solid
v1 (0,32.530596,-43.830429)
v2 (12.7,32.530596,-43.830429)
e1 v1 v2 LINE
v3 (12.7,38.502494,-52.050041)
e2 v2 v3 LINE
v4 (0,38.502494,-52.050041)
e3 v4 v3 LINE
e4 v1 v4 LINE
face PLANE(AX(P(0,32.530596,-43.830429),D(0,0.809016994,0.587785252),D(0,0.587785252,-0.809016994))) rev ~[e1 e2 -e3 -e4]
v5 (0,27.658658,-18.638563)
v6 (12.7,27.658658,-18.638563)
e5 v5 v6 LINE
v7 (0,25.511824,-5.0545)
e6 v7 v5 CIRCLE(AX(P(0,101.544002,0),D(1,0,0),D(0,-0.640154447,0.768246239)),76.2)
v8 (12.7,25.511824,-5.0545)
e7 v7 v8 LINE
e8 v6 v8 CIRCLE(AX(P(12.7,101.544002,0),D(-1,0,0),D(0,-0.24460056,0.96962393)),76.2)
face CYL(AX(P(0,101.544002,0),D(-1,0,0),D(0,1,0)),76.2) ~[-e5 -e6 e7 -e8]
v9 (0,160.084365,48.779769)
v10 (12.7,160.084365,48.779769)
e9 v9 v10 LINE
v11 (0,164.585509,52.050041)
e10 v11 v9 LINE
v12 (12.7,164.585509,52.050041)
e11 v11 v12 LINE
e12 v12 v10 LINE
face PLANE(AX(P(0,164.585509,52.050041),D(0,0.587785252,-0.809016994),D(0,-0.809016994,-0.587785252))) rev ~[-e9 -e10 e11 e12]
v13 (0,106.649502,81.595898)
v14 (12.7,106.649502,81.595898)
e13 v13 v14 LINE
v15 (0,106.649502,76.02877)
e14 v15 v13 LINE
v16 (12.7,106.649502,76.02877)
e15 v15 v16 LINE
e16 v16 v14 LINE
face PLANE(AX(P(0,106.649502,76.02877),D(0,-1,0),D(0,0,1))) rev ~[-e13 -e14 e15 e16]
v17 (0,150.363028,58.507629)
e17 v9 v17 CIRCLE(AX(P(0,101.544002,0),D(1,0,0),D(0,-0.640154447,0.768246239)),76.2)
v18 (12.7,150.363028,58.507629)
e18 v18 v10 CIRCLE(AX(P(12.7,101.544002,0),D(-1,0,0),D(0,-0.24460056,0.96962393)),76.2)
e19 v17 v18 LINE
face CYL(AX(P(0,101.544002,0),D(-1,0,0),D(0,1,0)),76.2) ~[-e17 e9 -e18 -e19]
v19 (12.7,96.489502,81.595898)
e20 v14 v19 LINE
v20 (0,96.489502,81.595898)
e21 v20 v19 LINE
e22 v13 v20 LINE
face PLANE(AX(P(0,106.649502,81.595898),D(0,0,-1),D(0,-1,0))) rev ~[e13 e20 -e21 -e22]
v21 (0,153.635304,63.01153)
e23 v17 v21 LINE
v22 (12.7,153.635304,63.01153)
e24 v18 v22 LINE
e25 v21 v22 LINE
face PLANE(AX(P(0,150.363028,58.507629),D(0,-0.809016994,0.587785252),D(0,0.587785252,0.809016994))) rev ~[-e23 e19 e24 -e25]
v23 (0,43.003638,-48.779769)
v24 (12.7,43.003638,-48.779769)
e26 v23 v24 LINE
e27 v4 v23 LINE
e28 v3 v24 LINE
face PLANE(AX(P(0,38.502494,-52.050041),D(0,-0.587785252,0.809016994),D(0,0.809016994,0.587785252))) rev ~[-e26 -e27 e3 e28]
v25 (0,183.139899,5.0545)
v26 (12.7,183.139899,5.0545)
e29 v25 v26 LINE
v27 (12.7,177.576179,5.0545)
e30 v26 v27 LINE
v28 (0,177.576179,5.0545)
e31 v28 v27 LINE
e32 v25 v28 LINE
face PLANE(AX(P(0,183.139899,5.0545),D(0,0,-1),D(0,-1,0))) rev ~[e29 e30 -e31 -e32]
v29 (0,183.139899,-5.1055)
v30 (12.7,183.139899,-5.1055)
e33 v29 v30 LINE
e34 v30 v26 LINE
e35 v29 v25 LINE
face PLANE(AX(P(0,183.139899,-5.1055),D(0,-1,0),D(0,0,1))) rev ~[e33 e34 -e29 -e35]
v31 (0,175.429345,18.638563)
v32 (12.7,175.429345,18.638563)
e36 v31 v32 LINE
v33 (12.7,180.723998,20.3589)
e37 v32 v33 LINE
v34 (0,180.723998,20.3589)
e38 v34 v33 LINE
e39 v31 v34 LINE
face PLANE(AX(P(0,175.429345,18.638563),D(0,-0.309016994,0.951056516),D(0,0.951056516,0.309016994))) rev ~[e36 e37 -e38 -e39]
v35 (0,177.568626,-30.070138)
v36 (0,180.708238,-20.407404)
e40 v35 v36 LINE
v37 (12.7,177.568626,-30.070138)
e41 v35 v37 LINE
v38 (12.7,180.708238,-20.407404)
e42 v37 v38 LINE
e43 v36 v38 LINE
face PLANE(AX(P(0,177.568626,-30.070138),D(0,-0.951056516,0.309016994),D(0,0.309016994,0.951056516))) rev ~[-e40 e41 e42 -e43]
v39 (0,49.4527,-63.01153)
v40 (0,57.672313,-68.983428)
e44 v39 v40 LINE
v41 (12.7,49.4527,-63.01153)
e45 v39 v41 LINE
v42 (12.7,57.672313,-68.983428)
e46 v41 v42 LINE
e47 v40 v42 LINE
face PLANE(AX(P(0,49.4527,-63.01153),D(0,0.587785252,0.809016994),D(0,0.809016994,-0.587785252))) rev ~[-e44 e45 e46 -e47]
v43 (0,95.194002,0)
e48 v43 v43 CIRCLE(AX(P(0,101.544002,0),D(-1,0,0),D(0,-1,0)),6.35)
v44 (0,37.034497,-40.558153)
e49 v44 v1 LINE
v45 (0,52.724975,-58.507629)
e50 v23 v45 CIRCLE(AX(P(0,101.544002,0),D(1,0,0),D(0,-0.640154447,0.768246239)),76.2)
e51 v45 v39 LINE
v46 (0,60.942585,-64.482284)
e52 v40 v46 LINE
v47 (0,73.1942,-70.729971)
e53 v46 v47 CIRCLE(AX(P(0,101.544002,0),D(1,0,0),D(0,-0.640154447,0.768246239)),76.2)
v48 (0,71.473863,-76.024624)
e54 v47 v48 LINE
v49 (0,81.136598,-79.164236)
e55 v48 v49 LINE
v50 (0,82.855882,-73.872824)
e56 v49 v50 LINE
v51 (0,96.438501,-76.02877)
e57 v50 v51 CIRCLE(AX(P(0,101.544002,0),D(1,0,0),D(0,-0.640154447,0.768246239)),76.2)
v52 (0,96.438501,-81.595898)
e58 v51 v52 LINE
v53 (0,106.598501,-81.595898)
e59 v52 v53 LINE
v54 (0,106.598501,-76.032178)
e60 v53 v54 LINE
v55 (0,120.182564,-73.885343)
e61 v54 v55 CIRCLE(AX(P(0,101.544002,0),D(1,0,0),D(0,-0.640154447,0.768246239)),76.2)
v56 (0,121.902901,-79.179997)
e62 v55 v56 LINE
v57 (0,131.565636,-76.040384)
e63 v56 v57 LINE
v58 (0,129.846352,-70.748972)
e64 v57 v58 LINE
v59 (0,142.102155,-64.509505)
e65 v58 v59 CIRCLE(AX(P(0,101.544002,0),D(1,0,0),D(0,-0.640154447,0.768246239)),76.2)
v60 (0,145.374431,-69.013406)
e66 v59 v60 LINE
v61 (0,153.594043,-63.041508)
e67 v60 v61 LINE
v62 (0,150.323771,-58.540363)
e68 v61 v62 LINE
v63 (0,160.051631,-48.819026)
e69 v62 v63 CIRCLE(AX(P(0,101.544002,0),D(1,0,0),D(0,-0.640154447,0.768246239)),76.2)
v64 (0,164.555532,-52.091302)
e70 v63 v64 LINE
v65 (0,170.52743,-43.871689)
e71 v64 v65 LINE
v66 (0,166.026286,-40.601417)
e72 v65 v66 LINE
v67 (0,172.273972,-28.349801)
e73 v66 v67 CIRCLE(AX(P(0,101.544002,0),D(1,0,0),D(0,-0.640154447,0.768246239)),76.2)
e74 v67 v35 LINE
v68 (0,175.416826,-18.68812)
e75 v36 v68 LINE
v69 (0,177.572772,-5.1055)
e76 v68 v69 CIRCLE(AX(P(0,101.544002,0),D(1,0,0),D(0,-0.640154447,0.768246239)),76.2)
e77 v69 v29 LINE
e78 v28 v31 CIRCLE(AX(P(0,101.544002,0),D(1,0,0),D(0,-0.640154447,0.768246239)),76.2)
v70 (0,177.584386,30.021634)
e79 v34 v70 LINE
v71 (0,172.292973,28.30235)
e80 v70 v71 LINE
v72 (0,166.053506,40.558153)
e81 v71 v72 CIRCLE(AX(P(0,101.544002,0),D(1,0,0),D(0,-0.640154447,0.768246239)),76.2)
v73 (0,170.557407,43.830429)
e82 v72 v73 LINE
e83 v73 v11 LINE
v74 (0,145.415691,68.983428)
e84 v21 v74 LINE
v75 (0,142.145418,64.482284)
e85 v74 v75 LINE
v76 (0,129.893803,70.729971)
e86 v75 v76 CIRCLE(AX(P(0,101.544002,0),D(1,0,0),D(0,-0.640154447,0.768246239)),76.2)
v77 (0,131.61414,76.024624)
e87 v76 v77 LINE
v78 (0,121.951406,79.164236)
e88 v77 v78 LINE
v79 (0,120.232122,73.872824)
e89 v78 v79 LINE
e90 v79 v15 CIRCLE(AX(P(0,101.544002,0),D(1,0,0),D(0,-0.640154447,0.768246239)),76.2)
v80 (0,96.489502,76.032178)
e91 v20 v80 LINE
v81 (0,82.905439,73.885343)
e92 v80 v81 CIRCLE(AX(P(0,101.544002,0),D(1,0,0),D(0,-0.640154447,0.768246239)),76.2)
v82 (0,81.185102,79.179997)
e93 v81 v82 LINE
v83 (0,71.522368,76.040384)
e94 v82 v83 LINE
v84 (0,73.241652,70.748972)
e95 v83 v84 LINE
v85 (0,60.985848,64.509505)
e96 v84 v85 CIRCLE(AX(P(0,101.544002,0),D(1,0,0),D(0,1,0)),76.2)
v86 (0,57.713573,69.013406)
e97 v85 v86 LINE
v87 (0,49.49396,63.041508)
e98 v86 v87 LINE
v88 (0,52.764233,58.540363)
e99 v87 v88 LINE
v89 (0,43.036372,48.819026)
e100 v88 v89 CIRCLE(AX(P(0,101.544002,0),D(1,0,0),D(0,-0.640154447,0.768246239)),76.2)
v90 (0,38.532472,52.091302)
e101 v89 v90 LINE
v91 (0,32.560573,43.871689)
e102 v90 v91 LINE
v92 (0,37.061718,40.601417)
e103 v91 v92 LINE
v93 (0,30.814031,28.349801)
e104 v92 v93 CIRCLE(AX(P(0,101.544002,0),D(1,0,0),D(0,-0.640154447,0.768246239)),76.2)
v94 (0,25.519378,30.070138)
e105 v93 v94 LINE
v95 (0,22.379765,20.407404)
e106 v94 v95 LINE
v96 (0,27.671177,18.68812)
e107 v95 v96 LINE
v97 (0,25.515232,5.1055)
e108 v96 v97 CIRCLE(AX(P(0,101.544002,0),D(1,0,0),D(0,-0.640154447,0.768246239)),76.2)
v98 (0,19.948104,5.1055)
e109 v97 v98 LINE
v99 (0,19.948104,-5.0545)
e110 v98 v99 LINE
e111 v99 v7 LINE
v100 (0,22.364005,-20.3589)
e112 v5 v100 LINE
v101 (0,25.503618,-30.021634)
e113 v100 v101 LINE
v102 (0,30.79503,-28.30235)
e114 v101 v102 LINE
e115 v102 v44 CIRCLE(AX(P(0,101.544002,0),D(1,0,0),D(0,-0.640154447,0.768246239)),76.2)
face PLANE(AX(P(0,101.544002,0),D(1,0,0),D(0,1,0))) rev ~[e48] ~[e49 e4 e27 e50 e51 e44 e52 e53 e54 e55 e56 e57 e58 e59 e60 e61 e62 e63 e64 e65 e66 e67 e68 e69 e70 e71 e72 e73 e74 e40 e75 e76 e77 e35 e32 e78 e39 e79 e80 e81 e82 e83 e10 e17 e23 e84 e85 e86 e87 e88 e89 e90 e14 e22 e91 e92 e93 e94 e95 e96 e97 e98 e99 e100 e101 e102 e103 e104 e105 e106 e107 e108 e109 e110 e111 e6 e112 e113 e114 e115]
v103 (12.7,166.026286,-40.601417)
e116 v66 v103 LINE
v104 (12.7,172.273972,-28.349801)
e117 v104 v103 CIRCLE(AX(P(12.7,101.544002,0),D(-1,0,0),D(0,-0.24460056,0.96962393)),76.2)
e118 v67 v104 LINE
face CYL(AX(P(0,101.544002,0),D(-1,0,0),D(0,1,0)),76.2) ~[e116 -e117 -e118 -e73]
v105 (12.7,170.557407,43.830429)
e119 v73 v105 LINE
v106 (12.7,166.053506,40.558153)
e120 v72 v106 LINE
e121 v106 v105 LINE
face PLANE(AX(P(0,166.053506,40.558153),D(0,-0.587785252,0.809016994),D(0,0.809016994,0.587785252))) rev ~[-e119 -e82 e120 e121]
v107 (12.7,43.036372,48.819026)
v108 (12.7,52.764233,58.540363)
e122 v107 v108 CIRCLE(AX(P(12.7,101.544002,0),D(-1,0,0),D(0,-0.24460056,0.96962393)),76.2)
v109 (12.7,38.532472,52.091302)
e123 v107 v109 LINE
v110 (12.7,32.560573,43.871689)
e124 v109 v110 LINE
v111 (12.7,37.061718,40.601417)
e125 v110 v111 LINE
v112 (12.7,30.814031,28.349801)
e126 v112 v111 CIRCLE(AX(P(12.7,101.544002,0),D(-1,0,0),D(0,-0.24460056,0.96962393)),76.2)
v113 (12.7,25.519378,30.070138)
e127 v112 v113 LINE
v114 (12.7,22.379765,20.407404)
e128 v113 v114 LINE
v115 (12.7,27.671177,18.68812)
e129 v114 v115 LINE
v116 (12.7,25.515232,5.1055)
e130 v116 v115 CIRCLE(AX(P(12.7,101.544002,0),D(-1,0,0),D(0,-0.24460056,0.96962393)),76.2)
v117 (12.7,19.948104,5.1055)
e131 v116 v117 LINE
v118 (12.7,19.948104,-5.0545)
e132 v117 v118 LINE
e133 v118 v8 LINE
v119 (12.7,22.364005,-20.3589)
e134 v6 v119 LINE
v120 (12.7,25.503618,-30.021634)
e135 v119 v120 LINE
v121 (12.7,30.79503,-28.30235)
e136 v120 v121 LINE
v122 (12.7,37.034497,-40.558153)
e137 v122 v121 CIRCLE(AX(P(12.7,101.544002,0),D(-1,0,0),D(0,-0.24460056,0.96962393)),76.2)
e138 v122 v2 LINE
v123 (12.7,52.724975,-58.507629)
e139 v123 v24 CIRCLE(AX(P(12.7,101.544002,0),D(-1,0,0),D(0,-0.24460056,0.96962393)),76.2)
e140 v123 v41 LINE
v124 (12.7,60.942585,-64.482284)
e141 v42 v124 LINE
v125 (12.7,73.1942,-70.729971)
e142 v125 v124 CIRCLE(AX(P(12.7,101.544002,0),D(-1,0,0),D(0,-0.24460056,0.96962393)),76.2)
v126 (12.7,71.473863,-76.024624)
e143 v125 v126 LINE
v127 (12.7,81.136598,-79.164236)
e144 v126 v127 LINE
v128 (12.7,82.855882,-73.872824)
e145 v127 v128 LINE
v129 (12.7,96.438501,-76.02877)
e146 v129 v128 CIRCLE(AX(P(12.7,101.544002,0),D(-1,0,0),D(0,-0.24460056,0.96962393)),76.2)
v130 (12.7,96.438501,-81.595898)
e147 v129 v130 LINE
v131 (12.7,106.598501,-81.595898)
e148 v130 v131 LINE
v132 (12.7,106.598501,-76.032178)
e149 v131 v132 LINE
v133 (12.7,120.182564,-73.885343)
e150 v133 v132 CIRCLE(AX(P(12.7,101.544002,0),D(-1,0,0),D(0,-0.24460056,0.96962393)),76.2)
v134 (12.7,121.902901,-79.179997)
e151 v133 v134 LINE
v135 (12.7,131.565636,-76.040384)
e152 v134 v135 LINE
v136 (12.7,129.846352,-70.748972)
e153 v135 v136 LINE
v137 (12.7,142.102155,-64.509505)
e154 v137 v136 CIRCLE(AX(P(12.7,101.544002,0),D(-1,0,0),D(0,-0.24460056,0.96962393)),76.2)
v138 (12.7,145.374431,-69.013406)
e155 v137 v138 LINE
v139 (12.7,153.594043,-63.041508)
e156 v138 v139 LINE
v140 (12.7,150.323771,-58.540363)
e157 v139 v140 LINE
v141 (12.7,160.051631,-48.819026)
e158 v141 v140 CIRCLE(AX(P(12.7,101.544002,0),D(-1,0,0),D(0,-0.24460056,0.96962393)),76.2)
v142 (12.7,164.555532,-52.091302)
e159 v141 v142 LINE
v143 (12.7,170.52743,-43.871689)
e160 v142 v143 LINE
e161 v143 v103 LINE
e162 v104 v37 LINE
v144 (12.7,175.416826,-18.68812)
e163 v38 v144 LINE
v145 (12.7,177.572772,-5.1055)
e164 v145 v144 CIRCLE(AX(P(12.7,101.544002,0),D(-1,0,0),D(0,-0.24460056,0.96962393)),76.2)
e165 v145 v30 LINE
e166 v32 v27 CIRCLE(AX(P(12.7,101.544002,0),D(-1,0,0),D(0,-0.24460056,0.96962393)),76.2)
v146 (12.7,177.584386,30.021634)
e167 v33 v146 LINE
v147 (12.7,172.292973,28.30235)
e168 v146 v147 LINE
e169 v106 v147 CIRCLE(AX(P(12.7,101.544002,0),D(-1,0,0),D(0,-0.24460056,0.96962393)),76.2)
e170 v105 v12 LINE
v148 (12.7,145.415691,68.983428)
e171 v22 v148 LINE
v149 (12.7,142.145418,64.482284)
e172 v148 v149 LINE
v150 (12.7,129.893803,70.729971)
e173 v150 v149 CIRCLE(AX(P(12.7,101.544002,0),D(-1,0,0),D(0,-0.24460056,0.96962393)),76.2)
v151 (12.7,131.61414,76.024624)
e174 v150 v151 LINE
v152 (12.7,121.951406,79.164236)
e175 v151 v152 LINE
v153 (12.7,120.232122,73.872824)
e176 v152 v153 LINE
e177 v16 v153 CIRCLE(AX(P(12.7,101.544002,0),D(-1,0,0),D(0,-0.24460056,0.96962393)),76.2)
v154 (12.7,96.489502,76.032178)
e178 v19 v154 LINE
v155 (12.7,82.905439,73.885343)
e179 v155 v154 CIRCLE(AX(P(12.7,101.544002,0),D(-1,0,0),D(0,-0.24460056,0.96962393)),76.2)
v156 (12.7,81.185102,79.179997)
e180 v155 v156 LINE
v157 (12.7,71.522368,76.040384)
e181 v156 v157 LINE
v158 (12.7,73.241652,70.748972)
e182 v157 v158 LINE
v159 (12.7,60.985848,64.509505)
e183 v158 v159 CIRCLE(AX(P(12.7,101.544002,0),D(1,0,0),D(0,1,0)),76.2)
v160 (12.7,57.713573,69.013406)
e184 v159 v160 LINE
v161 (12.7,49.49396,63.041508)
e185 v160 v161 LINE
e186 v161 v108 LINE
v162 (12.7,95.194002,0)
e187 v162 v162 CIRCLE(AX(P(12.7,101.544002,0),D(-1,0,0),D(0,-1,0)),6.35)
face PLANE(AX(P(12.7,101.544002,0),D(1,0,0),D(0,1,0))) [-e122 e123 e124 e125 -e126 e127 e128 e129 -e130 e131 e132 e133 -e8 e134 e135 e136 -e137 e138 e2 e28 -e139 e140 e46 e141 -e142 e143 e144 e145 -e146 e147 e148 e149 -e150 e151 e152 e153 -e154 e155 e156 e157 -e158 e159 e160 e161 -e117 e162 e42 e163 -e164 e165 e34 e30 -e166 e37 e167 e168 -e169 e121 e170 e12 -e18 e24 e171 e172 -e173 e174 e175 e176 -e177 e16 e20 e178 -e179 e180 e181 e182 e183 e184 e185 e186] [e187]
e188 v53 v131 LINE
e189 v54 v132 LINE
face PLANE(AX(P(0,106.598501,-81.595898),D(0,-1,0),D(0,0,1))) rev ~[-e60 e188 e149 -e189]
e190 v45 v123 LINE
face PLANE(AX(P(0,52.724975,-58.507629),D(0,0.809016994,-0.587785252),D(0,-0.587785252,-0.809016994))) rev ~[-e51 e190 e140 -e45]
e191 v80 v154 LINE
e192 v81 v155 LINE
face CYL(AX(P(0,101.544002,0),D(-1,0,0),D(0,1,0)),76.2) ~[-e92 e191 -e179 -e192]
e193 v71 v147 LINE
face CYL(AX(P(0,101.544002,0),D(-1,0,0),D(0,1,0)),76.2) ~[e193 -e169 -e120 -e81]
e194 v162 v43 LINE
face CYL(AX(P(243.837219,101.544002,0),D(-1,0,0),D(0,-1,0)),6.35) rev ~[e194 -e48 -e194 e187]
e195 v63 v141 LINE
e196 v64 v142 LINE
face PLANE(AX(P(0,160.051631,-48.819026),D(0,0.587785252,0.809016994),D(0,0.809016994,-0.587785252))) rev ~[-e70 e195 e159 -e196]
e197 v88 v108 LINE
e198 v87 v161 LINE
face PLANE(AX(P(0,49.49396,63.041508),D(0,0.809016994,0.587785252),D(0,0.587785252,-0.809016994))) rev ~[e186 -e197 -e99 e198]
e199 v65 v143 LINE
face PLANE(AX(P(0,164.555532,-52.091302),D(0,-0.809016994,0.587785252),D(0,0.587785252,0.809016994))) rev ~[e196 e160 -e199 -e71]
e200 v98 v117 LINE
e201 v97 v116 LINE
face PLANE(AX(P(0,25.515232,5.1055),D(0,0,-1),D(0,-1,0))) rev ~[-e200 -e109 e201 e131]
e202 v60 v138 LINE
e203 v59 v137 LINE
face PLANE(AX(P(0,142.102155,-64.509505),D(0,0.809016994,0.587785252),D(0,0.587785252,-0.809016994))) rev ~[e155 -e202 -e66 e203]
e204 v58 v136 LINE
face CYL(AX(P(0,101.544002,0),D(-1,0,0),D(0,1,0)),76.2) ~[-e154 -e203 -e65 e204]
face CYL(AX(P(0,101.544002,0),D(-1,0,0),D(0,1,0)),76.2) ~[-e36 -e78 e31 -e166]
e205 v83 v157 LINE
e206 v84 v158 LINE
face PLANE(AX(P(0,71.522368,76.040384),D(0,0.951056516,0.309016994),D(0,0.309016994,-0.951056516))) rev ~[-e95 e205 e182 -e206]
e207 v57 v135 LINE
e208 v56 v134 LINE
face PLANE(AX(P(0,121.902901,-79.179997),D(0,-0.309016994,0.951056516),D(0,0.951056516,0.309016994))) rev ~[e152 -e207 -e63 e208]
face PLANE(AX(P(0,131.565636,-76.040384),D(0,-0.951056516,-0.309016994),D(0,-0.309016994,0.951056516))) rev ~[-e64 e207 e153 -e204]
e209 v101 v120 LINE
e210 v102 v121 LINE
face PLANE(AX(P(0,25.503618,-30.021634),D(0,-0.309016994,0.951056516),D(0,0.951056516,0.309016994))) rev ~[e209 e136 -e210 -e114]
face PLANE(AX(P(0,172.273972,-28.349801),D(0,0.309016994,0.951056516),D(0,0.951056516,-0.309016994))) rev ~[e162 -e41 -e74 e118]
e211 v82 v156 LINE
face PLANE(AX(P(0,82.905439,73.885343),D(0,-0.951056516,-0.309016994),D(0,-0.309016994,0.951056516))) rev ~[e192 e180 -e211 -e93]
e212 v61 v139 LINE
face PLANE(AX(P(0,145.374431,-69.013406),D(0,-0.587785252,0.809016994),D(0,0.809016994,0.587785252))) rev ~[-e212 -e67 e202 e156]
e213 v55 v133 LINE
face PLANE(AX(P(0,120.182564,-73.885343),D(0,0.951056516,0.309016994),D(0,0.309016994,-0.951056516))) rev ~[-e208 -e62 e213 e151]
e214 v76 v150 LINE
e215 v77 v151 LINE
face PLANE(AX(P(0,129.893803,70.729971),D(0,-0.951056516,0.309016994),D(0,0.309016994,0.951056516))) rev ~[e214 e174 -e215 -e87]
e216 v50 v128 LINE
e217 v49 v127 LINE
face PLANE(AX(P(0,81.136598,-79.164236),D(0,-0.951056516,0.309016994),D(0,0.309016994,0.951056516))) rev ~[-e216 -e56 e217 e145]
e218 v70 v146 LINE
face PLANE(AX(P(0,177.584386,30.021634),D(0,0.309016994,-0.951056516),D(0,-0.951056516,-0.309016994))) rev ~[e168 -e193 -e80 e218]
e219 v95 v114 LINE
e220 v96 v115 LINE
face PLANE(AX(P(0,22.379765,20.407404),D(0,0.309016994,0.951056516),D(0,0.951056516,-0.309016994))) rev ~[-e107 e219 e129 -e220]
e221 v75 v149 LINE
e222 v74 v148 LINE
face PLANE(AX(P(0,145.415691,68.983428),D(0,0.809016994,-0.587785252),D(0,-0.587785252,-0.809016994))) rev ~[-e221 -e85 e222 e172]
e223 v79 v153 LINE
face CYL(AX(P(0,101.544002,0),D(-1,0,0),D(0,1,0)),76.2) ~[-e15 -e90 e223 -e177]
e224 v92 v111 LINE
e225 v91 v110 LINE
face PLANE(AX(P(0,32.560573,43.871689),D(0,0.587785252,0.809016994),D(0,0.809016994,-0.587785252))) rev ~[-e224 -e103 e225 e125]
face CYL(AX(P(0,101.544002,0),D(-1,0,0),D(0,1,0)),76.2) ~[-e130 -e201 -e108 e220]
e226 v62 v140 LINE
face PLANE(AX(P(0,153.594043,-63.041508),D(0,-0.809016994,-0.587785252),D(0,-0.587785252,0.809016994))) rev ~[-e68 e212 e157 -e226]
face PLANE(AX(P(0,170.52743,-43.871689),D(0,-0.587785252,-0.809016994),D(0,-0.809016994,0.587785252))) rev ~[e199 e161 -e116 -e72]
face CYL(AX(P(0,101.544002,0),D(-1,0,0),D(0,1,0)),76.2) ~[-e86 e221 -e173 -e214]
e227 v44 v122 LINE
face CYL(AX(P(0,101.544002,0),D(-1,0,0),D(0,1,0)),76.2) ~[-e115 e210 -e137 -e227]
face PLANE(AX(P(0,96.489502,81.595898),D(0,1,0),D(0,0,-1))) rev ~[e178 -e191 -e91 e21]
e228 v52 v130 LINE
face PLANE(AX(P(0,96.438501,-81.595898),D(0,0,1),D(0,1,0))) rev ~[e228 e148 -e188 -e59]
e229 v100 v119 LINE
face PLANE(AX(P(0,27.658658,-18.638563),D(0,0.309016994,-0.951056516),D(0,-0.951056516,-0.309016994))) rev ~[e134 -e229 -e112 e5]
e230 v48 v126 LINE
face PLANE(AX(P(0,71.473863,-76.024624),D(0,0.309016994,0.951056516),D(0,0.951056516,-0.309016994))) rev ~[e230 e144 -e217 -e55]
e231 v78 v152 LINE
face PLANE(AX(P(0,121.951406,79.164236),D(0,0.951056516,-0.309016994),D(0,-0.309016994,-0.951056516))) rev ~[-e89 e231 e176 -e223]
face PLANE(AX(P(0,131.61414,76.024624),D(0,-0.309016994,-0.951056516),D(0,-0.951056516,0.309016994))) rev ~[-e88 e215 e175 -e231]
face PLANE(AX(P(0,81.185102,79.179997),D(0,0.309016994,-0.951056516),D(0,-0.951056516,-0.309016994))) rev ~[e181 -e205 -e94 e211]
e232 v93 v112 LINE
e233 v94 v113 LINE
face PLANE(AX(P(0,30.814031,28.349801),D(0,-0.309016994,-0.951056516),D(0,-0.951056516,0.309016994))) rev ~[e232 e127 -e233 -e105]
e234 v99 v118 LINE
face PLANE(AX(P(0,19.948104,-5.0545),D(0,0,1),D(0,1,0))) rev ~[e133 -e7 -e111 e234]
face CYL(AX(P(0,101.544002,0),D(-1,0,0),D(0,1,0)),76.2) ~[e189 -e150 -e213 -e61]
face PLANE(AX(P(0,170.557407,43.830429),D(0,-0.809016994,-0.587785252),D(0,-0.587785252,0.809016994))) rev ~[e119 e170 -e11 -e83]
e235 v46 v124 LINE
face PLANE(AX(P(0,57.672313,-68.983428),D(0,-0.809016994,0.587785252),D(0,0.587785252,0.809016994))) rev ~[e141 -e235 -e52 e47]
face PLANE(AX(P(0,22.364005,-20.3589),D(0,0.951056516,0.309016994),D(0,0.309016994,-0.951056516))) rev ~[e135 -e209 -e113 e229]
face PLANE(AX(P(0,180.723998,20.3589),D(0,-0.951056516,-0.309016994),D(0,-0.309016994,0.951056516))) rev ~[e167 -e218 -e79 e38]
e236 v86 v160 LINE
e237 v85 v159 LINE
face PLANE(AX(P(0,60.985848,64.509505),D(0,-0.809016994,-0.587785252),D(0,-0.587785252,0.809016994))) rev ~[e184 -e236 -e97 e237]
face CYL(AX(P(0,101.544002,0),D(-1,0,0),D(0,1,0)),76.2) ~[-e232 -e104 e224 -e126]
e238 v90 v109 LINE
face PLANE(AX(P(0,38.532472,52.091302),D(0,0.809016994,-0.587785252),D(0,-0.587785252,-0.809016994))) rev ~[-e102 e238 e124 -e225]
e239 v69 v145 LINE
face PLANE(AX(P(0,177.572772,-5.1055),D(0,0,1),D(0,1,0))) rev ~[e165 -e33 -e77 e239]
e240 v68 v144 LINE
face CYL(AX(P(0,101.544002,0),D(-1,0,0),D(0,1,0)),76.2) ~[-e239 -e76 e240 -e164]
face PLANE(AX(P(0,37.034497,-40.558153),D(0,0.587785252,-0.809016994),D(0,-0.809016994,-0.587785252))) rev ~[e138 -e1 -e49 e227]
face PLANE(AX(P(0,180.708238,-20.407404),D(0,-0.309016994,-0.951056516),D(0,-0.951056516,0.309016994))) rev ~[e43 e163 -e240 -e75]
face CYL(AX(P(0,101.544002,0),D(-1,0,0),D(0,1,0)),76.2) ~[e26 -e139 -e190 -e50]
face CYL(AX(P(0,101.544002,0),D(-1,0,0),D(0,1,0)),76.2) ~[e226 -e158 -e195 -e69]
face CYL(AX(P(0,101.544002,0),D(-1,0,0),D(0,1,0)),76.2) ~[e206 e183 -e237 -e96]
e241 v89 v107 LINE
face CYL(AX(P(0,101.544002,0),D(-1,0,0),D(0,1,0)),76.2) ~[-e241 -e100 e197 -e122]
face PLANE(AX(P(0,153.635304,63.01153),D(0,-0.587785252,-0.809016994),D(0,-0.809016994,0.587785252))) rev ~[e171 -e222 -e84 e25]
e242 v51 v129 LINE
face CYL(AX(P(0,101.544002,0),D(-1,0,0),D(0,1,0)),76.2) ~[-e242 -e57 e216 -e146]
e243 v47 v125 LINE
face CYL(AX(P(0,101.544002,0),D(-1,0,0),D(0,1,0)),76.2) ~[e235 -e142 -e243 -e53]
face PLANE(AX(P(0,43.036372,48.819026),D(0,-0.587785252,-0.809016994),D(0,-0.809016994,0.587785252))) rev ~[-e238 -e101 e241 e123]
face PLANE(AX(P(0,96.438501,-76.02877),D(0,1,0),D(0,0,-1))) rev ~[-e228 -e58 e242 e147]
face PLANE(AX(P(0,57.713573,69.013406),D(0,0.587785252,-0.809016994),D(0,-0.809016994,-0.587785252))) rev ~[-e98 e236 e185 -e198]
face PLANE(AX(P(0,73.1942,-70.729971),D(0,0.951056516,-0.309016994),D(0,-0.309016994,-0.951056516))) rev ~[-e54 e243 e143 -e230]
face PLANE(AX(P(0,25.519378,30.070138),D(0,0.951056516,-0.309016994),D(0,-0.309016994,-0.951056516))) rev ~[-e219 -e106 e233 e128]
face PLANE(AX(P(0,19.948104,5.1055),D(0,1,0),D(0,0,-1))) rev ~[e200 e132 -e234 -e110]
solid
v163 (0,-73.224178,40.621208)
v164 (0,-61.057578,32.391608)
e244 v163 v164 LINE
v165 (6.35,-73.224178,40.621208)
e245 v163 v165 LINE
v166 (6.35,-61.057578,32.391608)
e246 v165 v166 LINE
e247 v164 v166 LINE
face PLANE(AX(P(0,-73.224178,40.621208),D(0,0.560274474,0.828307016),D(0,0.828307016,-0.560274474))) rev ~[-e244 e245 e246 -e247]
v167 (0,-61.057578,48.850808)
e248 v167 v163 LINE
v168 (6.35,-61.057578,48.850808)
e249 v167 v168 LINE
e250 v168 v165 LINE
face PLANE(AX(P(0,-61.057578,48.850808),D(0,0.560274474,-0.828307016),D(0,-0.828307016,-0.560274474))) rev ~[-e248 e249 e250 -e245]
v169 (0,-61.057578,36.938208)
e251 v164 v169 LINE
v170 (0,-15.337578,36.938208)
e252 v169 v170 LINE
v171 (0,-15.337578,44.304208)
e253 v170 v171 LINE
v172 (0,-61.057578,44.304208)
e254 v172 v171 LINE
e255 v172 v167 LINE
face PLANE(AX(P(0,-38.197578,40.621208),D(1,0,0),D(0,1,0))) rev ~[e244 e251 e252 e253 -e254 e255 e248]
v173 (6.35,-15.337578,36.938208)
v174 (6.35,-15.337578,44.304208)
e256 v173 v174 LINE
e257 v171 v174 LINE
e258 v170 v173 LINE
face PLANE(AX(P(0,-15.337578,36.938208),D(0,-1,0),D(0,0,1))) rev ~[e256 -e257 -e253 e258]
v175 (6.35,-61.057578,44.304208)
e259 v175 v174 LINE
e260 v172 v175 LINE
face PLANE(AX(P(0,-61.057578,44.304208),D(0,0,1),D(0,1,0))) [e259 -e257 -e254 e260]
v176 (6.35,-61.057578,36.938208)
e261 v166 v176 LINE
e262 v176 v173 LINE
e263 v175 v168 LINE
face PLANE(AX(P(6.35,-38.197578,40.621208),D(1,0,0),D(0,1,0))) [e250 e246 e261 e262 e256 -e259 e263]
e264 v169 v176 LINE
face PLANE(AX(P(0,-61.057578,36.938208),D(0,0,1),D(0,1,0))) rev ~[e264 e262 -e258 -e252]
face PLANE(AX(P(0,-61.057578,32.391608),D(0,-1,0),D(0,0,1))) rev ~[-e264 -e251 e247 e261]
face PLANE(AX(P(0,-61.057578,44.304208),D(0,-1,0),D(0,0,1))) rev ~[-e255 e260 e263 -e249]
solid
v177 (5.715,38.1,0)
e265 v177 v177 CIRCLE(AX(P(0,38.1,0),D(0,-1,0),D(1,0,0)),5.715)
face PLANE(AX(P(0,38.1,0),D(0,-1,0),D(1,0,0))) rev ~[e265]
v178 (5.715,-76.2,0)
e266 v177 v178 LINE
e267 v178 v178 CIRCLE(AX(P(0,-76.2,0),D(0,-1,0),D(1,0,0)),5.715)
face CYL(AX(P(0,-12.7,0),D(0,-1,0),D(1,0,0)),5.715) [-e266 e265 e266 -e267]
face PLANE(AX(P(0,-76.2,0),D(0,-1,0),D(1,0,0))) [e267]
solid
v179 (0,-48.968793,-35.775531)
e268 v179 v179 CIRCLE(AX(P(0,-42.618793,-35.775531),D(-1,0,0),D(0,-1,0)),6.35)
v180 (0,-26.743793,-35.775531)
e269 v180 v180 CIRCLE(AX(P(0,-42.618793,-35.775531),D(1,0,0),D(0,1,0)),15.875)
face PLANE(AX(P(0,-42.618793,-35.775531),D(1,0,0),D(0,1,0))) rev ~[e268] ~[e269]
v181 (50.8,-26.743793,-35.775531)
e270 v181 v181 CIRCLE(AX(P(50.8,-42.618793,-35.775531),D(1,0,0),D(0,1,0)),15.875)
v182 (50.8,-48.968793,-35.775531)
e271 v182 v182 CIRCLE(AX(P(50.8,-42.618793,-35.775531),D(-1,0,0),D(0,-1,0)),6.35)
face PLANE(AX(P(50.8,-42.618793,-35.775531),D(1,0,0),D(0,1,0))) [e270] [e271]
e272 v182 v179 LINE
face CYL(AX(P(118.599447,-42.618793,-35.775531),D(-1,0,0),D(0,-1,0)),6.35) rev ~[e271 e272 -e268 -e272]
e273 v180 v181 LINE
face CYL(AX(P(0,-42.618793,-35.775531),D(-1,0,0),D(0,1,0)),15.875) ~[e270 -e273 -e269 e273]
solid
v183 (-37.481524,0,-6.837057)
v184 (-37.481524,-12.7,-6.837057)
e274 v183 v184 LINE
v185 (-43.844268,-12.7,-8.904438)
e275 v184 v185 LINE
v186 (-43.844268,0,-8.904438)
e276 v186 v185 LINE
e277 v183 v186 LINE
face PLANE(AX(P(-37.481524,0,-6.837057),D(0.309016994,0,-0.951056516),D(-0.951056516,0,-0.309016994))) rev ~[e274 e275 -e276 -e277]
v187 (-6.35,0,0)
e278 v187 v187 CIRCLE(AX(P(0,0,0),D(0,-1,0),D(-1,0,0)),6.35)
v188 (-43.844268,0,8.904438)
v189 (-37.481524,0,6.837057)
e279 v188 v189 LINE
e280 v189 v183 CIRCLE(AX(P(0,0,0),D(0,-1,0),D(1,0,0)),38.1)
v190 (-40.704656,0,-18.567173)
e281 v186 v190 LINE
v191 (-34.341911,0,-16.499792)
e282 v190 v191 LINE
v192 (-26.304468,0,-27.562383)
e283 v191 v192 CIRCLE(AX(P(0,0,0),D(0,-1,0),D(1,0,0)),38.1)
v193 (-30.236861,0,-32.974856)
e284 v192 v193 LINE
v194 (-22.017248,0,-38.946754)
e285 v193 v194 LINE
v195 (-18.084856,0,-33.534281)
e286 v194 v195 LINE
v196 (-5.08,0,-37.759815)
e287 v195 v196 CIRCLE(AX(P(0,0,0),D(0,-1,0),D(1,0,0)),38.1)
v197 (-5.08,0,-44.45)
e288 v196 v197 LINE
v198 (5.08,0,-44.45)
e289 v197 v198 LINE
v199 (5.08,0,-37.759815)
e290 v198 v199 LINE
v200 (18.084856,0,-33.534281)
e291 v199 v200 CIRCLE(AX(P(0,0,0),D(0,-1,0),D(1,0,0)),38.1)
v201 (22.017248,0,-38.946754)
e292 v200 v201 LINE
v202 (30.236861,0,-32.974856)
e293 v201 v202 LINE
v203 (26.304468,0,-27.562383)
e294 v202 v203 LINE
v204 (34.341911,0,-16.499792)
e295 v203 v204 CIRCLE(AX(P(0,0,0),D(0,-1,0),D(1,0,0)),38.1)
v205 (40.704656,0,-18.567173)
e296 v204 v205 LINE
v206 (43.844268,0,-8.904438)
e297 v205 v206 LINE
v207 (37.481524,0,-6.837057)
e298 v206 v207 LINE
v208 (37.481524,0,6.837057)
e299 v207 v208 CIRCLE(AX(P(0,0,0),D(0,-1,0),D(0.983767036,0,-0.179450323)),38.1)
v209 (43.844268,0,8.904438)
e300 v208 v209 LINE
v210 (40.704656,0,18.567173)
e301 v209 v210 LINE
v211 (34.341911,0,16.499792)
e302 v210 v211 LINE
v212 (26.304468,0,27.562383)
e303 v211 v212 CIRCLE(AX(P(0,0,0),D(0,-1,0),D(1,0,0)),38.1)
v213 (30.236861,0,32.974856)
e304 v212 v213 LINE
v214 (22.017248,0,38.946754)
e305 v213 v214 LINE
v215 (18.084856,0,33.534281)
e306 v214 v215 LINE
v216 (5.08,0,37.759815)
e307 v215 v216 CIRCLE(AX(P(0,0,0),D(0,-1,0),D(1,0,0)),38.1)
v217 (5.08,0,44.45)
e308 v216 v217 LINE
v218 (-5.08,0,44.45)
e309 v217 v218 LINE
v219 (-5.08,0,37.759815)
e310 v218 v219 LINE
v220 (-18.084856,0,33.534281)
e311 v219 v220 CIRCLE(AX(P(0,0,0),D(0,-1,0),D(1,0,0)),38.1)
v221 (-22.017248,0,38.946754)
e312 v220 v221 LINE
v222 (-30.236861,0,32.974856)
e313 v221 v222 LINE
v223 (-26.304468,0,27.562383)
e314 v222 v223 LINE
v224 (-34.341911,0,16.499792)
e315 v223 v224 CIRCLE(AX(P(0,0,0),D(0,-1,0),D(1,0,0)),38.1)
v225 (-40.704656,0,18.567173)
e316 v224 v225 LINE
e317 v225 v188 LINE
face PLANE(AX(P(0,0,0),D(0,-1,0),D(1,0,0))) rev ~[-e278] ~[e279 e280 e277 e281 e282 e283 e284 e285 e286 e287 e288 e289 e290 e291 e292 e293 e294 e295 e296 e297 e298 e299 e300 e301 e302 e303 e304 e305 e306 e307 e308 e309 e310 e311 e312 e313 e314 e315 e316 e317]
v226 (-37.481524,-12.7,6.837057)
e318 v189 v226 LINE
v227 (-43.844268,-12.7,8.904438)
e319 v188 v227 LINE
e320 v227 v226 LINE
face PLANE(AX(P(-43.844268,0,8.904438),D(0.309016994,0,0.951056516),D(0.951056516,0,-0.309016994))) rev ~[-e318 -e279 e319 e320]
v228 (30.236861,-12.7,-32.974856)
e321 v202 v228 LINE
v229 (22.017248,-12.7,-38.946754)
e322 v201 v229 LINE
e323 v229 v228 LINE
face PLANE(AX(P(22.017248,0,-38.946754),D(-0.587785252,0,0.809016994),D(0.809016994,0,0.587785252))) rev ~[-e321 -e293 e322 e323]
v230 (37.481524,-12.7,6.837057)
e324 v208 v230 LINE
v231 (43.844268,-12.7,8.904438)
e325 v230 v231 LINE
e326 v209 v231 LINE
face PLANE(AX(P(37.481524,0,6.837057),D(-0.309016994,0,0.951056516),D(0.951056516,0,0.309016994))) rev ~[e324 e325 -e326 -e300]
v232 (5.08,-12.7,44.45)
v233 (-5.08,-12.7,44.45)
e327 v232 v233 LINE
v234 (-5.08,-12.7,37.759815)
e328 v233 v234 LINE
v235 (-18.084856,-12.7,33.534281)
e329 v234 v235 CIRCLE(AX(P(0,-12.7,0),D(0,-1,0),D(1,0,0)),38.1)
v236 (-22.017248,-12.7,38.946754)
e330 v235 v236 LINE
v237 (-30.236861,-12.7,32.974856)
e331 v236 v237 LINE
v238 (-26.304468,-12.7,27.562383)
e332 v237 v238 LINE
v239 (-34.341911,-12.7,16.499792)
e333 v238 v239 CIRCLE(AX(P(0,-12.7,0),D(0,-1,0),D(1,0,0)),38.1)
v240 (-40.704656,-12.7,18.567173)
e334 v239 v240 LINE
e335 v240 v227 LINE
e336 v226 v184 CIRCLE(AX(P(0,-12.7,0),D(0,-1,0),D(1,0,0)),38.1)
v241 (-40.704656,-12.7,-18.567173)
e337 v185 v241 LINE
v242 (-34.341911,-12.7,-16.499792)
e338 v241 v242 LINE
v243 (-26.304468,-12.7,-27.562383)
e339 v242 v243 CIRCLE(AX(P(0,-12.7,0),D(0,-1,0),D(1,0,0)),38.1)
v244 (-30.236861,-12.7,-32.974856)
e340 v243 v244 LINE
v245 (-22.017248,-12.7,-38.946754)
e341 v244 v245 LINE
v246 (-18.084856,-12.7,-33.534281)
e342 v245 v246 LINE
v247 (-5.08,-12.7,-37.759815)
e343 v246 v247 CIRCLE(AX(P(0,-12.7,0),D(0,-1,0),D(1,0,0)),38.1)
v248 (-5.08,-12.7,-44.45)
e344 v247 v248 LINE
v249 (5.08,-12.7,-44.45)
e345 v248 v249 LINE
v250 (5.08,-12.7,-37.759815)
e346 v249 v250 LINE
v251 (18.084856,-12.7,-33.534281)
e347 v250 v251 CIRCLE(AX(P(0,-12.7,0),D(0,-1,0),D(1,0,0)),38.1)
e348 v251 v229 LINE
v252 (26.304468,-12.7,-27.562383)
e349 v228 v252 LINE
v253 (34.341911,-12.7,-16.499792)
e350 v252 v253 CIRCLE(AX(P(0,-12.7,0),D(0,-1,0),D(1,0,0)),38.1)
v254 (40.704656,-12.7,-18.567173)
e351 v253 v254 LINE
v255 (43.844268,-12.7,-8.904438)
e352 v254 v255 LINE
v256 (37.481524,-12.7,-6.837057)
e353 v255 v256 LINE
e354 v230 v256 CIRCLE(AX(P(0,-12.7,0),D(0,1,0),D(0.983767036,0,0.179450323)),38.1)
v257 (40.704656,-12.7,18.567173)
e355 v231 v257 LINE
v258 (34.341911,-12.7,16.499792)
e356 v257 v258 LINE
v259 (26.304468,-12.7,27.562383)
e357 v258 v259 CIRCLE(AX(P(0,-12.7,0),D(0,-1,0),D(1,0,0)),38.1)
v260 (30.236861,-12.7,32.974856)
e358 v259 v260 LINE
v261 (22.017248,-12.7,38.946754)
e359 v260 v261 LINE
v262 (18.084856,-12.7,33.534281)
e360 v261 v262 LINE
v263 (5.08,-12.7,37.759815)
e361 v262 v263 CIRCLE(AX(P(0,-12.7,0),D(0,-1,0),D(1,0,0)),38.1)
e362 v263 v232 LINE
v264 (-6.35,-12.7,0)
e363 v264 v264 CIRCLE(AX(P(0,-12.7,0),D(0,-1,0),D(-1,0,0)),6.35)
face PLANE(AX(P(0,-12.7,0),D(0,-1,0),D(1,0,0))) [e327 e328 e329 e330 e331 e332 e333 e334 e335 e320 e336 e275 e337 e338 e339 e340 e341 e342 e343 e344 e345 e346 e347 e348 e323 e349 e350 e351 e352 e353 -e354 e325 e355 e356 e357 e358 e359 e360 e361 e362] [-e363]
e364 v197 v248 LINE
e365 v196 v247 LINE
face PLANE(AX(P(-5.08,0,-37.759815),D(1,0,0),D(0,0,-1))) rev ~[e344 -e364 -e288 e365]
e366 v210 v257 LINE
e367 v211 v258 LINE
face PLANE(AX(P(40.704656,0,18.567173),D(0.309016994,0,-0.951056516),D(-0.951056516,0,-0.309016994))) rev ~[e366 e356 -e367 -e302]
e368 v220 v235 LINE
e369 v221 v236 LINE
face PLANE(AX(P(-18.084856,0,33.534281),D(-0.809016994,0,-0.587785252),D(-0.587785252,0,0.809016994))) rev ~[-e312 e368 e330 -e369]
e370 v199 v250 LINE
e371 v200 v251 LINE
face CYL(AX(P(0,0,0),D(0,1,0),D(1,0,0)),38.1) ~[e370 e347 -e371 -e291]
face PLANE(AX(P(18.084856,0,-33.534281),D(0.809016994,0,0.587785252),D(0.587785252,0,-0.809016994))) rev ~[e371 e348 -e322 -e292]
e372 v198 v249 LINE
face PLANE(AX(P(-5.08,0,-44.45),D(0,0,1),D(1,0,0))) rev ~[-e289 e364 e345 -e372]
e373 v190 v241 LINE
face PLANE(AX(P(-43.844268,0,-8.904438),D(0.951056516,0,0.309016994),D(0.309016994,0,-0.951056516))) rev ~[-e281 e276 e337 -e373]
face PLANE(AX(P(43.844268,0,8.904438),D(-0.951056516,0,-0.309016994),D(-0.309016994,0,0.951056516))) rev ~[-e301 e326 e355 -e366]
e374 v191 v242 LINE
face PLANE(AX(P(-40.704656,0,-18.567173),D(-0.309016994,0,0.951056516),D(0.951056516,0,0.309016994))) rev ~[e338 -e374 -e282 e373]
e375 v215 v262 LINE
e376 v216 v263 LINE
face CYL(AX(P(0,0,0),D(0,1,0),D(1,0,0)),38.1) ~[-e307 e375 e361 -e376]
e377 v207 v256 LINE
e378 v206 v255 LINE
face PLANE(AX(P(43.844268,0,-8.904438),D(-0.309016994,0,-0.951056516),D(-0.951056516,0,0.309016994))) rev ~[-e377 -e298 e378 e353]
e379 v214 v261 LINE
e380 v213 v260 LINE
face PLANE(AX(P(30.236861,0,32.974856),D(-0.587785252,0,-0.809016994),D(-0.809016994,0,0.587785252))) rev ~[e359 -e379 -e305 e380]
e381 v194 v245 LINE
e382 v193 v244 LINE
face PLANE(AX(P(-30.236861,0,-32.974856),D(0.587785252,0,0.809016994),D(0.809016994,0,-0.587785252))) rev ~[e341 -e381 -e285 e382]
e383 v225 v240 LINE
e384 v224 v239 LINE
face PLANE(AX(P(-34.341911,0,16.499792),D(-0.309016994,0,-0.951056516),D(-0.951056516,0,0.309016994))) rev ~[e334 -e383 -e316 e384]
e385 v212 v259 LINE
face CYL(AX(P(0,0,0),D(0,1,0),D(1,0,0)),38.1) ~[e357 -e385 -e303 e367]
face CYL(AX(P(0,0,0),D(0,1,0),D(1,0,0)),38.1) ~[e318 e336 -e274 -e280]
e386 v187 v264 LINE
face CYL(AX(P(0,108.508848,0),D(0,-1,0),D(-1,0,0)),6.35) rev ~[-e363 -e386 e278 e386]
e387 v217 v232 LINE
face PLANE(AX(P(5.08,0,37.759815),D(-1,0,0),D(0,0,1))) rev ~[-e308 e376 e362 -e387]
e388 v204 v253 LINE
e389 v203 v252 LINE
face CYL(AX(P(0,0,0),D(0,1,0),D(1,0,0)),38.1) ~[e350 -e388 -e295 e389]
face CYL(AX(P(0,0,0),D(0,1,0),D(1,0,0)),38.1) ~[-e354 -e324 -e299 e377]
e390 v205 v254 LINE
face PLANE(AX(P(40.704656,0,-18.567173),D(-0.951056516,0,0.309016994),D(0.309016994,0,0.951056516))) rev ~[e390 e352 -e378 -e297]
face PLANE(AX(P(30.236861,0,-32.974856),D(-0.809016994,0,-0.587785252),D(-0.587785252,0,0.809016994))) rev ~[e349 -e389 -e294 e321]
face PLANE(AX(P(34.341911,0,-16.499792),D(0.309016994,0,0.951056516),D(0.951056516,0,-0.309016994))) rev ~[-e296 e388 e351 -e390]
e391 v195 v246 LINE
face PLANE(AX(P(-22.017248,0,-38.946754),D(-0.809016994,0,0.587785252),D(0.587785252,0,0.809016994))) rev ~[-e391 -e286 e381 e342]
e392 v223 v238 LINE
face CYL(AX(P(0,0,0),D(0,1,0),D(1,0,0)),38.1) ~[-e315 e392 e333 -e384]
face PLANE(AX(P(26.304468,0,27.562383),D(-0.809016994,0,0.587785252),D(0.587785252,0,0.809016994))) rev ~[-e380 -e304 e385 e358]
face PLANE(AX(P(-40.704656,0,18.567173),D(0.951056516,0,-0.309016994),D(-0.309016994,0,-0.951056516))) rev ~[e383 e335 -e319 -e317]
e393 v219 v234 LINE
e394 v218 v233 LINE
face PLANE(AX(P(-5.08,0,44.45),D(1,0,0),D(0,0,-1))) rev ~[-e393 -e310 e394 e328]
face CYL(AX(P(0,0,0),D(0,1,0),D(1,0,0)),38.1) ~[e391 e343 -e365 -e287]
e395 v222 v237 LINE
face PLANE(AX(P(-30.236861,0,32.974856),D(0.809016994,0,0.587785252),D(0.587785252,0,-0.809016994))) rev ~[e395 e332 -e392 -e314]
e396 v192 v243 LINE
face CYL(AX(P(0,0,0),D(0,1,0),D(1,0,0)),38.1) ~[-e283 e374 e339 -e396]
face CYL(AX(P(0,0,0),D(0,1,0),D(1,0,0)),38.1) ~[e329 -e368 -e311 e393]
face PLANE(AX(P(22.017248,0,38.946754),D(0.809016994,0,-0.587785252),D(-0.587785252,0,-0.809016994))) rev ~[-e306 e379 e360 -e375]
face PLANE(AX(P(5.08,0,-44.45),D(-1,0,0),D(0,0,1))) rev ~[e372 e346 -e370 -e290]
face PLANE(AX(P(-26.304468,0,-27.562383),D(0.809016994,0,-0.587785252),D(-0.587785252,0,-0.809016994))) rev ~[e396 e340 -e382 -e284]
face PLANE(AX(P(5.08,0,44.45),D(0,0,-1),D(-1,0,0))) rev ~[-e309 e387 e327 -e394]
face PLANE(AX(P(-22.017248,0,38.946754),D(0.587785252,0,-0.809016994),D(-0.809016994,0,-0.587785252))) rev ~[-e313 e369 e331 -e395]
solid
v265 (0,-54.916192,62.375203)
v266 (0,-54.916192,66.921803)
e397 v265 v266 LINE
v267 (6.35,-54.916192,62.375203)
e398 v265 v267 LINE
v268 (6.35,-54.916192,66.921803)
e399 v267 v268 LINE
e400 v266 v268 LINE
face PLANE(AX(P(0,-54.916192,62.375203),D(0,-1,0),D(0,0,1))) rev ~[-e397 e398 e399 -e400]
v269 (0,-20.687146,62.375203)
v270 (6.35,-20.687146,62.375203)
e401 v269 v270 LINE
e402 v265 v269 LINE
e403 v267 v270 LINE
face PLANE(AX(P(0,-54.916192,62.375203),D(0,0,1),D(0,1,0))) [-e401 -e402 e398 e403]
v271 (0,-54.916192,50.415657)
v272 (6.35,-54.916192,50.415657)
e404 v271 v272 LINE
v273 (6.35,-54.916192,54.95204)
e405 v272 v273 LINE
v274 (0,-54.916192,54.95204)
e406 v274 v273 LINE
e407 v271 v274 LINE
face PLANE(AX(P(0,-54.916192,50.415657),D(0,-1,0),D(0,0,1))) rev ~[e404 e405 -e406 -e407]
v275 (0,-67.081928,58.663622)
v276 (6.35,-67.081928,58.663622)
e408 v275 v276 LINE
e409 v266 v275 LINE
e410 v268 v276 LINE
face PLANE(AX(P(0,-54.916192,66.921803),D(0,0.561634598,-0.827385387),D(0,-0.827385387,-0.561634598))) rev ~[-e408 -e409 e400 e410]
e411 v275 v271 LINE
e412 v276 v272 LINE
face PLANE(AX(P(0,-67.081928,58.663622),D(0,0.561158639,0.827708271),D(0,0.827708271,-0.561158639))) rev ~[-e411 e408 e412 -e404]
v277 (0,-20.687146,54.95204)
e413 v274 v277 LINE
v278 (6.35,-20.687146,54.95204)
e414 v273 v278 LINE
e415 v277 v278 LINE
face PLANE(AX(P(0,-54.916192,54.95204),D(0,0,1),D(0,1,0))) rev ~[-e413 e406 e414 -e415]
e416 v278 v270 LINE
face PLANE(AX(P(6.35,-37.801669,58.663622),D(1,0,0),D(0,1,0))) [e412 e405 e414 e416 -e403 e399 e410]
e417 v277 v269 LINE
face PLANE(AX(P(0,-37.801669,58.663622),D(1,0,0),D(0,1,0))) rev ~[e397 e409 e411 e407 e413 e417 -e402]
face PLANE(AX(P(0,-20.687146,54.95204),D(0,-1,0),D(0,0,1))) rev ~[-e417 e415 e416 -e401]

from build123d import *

# Parameters (mm, degrees)
F0_R           = 38.1
F2_DEPTH       = 12.7
F3_COUNT       = 10
F4_D           = 12.7
F6_R           = 76.2
F8_DEPTH       = 12.7
F9_COUNT       = 20
F12_D          = 12.7
F13_R          = 5.715
F14_DEPTH      = 63.5
F14_DEPTH_BACK = 50.8
F15_W          = 34.2290457338
F15_H          = 7.4231624603
F16_DEPTH      = 6.35
F17_R          = 15.875
F18_DEPTH      = 50.8
F20_D          = 12.7
F21_W          = 45.72
F21_H          = 7.366
F22_DEPTH      = 6.35


with BuildPart() as f2:
    # F0 (on Front) → F2 (new body)
    with BuildSketch(Plane.XZ):
        Circle(F0_R)
    extrude(amount=F2_DEPTH)

    # F4 (through all)
    with Locations(Plane(origin=(0, 0, 0), x_dir=(1, 0, 0), z_dir=(0, 1, 0))):
        with Locations((0, 0)):
            Hole(F4_D / 2)


with BuildPart() as f2b:
    # F1 (on face) → F2, piece 2 (new body)
    with BuildSketch(Plane.XZ):
        with BuildLine():
            Line((-5.08, 44.45), (-5.08, 37.7598146182))
            ThreePointArc((-5.08, 37.7598146182), (0, 38.1), (5.08, 37.7598146182))
            Line((5.08, 37.7598146182), (5.08, 44.45))
            Line((5.08, 44.45), (-5.08, 44.45))
        make_face()
    extrude(amount=F2_DEPTH)


with BuildPart() as f3_1:
    # F3: instance of F2b
    add(f2b.part.rotate(Axis((0, 0, 0), (0, -1, 0)), 1 * 360 / F3_COUNT))


with BuildPart() as f3_2:
    # F3: instance of F2b
    add(f2b.part.rotate(Axis((0, 0, 0), (0, -1, 0)), 2 * 360 / F3_COUNT))


with BuildPart() as f3_3:
    # F3: instance of F2b
    add(f2b.part.rotate(Axis((0, 0, 0), (0, -1, 0)), 3 * 360 / F3_COUNT))


with BuildPart() as f3_4:
    # F3: instance of F2b
    add(f2b.part.rotate(Axis((0, 0, 0), (0, -1, 0)), 4 * 360 / F3_COUNT))


with BuildPart() as f3_5:
    # F3: instance of F2b
    add(f2b.part.rotate(Axis((0, 0, 0), (0, -1, 0)), 5 * 360 / F3_COUNT))


with BuildPart() as f3_6:
    # F3: instance of F2b
    add(f2b.part.rotate(Axis((0, 0, 0), (0, -1, 0)), 6 * 360 / F3_COUNT))


with BuildPart() as f3_7:
    # F3: instance of F2b
    add(f2b.part.rotate(Axis((0, 0, 0), (0, -1, 0)), 7 * 360 / F3_COUNT))


with BuildPart() as f3_8:
    # F3: instance of F2b
    add(f2b.part.rotate(Axis((0, 0, 0), (0, -1, 0)), 8 * 360 / F3_COUNT))


with BuildPart() as f3_9:
    # F3: instance of F2b
    add(f2b.part.rotate(Axis((0, 0, 0), (0, -1, 0)), 9 * 360 / F3_COUNT))


with BuildPart() as f2b_1:
    add(f2b.part)

    # F5: union F3_2, F3_1, F3_3, F3_4, F3_5, F3_6, F3_7, F3_8, F3_9, F2
    add(f3_2.part)
    add(f3_1.part)
    add(f3_3.part)
    add(f3_4.part)
    add(f3_5.part)
    add(f3_6.part)
    add(f3_7.part)
    add(f3_8.part)
    add(f3_9.part)
    add(f2.part)


with BuildPart() as f8:
    # F6 (on Right) → F8 (new body)
    with BuildSketch(Plane.YZ):
        with Locations((101.5440017082, 0)):
            Circle(F6_R)
    extrude(amount=F8_DEPTH)


with BuildPart() as f8b:
    # F7 (on face) → F8, piece 2 (new body)
    with BuildSketch(Plane.YZ):
        with BuildLine():
            Line((96.4895019979, 81.5958976746), (96.4895019979, 76.0321776137))
            ThreePointArc((96.4895019979, 76.0321776137), (101.5695588549, 76.1999957141), (106.6495019979, 76.0287699939))
            Line((106.6495019979, 76.0287699939), (106.6495019979, 81.5958976746))
            Line((106.6495019979, 81.5958976746), (96.4895019979, 81.5958976746))
        make_face()
    extrude(amount=F8_DEPTH)


with BuildPart() as f9_1:
    # F9: instance of F8b
    add(f8b.part.rotate(Axis((12.7, 101.5440017082, 0), (1, 0, 0)), 1 * 360 / F9_COUNT))


with BuildPart() as f9_2:
    # F9: instance of F8b
    add(f8b.part.rotate(Axis((12.7, 101.5440017082, 0), (1, 0, 0)), 2 * 360 / F9_COUNT))


with BuildPart() as f9_3:
    # F9: instance of F8b
    add(f8b.part.rotate(Axis((12.7, 101.5440017082, 0), (1, 0, 0)), 3 * 360 / F9_COUNT))


with BuildPart() as f9_4:
    # F9: instance of F8b
    add(f8b.part.rotate(Axis((12.7, 101.5440017082, 0), (1, 0, 0)), 4 * 360 / F9_COUNT))


with BuildPart() as f9_5:
    # F9: instance of F8b
    add(f8b.part.rotate(Axis((12.7, 101.5440017082, 0), (1, 0, 0)), 5 * 360 / F9_COUNT))


with BuildPart() as f9_6:
    # F9: instance of F8b
    add(f8b.part.rotate(Axis((12.7, 101.5440017082, 0), (1, 0, 0)), 6 * 360 / F9_COUNT))


with BuildPart() as f9_7:
    # F9: instance of F8b
    add(f8b.part.rotate(Axis((12.7, 101.5440017082, 0), (1, 0, 0)), 7 * 360 / F9_COUNT))


with BuildPart() as f9_8:
    # F9: instance of F8b
    add(f8b.part.rotate(Axis((12.7, 101.5440017082, 0), (1, 0, 0)), 8 * 360 / F9_COUNT))


with BuildPart() as f9_9:
    # F9: instance of F8b
    add(f8b.part.rotate(Axis((12.7, 101.5440017082, 0), (1, 0, 0)), 9 * 360 / F9_COUNT))


with BuildPart() as f9_10:
    # F9: instance of F8b
    add(f8b.part.rotate(Axis((12.7, 101.5440017082, 0), (1, 0, 0)), 10 * 360 / F9_COUNT))


with BuildPart() as f9_11:
    # F9: instance of F8b
    add(f8b.part.rotate(Axis((12.7, 101.5440017082, 0), (1, 0, 0)), 11 * 360 / F9_COUNT))


with BuildPart() as f9_12:
    # F9: instance of F8b
    add(f8b.part.rotate(Axis((12.7, 101.5440017082, 0), (1, 0, 0)), 12 * 360 / F9_COUNT))


with BuildPart() as f9_13:
    # F9: instance of F8b
    add(f8b.part.rotate(Axis((12.7, 101.5440017082, 0), (1, 0, 0)), 13 * 360 / F9_COUNT))


with BuildPart() as f9_14:
    # F9: instance of F8b
    add(f8b.part.rotate(Axis((12.7, 101.5440017082, 0), (1, 0, 0)), 14 * 360 / F9_COUNT))


with BuildPart() as f9_15:
    # F9: instance of F8b
    add(f8b.part.rotate(Axis((12.7, 101.5440017082, 0), (1, 0, 0)), 15 * 360 / F9_COUNT))


with BuildPart() as f9_16:
    # F9: instance of F8b
    add(f8b.part.rotate(Axis((12.7, 101.5440017082, 0), (1, 0, 0)), 16 * 360 / F9_COUNT))


with BuildPart() as f9_17:
    # F9: instance of F8b
    add(f8b.part.rotate(Axis((12.7, 101.5440017082, 0), (1, 0, 0)), 17 * 360 / F9_COUNT))


with BuildPart() as f9_18:
    # F9: instance of F8b
    add(f8b.part.rotate(Axis((12.7, 101.5440017082, 0), (1, 0, 0)), 18 * 360 / F9_COUNT))


with BuildPart() as f9_19:
    # F9: instance of F8b
    add(f8b.part.rotate(Axis((12.7, 101.5440017082, 0), (1, 0, 0)), 19 * 360 / F9_COUNT))


with BuildPart() as f9_1_1:
    add(f9_1.part)

    # F10: union F9_2, F8, F8b, F9_9, F9_8, F9_7, F9_6, F9_5, F9_4, F9_3, F9_19, F9_18, F9_17, F9_16, F9_15, F9_14, F9_13, F9_12, F9_11, F9_10
    add(f9_2.part)
    add(f8.part)
    add(f8b.part)
    add(f9_9.part)
    add(f9_8.part)
    add(f9_7.part)
    add(f9_6.part)
    add(f9_5.part)
    add(f9_4.part)
    add(f9_3.part)
    add(f9_19.part)
    add(f9_18.part)
    add(f9_17.part)
    add(f9_16.part)
    add(f9_15.part)
    add(f9_14.part)
    add(f9_13.part)
    add(f9_12.part)
    add(f9_11.part)
    add(f9_10.part)

    # F12 (through all)
    with Locations(Plane.YZ.offset(12.7)):
        with Locations((101.5440017082, 0)):
            Hole(F12_D / 2)


with BuildPart() as f14:
    # F13 (on face) → F14 (new body, two sides)
    with BuildSketch(Plane.XZ.offset(12.7)) as f14_sk:
        Circle(F13_R)
    extrude(amount=F14_DEPTH)
    extrude(f14_sk.sketch, amount=-F14_DEPTH_BACK)


with BuildPart() as f16:
    # F15 (on Right) → F16 (new body)
    with BuildSketch(Plane.YZ):
        with Locations((-37.8016689792, 58.6636215448)):
            Rectangle(F15_W, F15_H)
        Polygon((-54.9161918461, 54.9520403147), (-54.9161918461, 62.375202775), (-54.9161918461, 66.921802775), (-67.0819282532, 58.6636215448), (-54.9161918461, 50.4156574607), align=None)
    extrude(amount=F16_DEPTH)


with BuildPart() as f18:
    # F17 (on Right) → F18 (new body)
    with BuildSketch(Plane.YZ):
        with Locations((-42.6187925041, -35.7755310833)):
            Circle(F17_R)
    extrude(amount=F18_DEPTH)

    # F20 (through all)
    with Locations(Plane.YZ.offset(50.8)):
        with Locations((-42.6187925041, -35.7755310833)):
            Hole(F20_D / 2)


with BuildPart() as f22:
    # F21 (on Right) → F22 (new body)
    with BuildSketch(Plane.YZ):
        with Locations((-38.1975783284, 40.621208027)):
            Rectangle(F21_W, F21_H)
        Polygon((-61.0575783284, 36.938208027), (-61.0575783284, 44.304208027), (-61.0575783284, 48.850808027), (-73.2241783284, 40.621208027), (-61.0575783284, 32.391608027), align=None)
    extrude(amount=F22_DEPTH)


solid = Compound([f2b_1.part, f9_1_1.part, f14.part, f16.part, f18.part, f22.part])
